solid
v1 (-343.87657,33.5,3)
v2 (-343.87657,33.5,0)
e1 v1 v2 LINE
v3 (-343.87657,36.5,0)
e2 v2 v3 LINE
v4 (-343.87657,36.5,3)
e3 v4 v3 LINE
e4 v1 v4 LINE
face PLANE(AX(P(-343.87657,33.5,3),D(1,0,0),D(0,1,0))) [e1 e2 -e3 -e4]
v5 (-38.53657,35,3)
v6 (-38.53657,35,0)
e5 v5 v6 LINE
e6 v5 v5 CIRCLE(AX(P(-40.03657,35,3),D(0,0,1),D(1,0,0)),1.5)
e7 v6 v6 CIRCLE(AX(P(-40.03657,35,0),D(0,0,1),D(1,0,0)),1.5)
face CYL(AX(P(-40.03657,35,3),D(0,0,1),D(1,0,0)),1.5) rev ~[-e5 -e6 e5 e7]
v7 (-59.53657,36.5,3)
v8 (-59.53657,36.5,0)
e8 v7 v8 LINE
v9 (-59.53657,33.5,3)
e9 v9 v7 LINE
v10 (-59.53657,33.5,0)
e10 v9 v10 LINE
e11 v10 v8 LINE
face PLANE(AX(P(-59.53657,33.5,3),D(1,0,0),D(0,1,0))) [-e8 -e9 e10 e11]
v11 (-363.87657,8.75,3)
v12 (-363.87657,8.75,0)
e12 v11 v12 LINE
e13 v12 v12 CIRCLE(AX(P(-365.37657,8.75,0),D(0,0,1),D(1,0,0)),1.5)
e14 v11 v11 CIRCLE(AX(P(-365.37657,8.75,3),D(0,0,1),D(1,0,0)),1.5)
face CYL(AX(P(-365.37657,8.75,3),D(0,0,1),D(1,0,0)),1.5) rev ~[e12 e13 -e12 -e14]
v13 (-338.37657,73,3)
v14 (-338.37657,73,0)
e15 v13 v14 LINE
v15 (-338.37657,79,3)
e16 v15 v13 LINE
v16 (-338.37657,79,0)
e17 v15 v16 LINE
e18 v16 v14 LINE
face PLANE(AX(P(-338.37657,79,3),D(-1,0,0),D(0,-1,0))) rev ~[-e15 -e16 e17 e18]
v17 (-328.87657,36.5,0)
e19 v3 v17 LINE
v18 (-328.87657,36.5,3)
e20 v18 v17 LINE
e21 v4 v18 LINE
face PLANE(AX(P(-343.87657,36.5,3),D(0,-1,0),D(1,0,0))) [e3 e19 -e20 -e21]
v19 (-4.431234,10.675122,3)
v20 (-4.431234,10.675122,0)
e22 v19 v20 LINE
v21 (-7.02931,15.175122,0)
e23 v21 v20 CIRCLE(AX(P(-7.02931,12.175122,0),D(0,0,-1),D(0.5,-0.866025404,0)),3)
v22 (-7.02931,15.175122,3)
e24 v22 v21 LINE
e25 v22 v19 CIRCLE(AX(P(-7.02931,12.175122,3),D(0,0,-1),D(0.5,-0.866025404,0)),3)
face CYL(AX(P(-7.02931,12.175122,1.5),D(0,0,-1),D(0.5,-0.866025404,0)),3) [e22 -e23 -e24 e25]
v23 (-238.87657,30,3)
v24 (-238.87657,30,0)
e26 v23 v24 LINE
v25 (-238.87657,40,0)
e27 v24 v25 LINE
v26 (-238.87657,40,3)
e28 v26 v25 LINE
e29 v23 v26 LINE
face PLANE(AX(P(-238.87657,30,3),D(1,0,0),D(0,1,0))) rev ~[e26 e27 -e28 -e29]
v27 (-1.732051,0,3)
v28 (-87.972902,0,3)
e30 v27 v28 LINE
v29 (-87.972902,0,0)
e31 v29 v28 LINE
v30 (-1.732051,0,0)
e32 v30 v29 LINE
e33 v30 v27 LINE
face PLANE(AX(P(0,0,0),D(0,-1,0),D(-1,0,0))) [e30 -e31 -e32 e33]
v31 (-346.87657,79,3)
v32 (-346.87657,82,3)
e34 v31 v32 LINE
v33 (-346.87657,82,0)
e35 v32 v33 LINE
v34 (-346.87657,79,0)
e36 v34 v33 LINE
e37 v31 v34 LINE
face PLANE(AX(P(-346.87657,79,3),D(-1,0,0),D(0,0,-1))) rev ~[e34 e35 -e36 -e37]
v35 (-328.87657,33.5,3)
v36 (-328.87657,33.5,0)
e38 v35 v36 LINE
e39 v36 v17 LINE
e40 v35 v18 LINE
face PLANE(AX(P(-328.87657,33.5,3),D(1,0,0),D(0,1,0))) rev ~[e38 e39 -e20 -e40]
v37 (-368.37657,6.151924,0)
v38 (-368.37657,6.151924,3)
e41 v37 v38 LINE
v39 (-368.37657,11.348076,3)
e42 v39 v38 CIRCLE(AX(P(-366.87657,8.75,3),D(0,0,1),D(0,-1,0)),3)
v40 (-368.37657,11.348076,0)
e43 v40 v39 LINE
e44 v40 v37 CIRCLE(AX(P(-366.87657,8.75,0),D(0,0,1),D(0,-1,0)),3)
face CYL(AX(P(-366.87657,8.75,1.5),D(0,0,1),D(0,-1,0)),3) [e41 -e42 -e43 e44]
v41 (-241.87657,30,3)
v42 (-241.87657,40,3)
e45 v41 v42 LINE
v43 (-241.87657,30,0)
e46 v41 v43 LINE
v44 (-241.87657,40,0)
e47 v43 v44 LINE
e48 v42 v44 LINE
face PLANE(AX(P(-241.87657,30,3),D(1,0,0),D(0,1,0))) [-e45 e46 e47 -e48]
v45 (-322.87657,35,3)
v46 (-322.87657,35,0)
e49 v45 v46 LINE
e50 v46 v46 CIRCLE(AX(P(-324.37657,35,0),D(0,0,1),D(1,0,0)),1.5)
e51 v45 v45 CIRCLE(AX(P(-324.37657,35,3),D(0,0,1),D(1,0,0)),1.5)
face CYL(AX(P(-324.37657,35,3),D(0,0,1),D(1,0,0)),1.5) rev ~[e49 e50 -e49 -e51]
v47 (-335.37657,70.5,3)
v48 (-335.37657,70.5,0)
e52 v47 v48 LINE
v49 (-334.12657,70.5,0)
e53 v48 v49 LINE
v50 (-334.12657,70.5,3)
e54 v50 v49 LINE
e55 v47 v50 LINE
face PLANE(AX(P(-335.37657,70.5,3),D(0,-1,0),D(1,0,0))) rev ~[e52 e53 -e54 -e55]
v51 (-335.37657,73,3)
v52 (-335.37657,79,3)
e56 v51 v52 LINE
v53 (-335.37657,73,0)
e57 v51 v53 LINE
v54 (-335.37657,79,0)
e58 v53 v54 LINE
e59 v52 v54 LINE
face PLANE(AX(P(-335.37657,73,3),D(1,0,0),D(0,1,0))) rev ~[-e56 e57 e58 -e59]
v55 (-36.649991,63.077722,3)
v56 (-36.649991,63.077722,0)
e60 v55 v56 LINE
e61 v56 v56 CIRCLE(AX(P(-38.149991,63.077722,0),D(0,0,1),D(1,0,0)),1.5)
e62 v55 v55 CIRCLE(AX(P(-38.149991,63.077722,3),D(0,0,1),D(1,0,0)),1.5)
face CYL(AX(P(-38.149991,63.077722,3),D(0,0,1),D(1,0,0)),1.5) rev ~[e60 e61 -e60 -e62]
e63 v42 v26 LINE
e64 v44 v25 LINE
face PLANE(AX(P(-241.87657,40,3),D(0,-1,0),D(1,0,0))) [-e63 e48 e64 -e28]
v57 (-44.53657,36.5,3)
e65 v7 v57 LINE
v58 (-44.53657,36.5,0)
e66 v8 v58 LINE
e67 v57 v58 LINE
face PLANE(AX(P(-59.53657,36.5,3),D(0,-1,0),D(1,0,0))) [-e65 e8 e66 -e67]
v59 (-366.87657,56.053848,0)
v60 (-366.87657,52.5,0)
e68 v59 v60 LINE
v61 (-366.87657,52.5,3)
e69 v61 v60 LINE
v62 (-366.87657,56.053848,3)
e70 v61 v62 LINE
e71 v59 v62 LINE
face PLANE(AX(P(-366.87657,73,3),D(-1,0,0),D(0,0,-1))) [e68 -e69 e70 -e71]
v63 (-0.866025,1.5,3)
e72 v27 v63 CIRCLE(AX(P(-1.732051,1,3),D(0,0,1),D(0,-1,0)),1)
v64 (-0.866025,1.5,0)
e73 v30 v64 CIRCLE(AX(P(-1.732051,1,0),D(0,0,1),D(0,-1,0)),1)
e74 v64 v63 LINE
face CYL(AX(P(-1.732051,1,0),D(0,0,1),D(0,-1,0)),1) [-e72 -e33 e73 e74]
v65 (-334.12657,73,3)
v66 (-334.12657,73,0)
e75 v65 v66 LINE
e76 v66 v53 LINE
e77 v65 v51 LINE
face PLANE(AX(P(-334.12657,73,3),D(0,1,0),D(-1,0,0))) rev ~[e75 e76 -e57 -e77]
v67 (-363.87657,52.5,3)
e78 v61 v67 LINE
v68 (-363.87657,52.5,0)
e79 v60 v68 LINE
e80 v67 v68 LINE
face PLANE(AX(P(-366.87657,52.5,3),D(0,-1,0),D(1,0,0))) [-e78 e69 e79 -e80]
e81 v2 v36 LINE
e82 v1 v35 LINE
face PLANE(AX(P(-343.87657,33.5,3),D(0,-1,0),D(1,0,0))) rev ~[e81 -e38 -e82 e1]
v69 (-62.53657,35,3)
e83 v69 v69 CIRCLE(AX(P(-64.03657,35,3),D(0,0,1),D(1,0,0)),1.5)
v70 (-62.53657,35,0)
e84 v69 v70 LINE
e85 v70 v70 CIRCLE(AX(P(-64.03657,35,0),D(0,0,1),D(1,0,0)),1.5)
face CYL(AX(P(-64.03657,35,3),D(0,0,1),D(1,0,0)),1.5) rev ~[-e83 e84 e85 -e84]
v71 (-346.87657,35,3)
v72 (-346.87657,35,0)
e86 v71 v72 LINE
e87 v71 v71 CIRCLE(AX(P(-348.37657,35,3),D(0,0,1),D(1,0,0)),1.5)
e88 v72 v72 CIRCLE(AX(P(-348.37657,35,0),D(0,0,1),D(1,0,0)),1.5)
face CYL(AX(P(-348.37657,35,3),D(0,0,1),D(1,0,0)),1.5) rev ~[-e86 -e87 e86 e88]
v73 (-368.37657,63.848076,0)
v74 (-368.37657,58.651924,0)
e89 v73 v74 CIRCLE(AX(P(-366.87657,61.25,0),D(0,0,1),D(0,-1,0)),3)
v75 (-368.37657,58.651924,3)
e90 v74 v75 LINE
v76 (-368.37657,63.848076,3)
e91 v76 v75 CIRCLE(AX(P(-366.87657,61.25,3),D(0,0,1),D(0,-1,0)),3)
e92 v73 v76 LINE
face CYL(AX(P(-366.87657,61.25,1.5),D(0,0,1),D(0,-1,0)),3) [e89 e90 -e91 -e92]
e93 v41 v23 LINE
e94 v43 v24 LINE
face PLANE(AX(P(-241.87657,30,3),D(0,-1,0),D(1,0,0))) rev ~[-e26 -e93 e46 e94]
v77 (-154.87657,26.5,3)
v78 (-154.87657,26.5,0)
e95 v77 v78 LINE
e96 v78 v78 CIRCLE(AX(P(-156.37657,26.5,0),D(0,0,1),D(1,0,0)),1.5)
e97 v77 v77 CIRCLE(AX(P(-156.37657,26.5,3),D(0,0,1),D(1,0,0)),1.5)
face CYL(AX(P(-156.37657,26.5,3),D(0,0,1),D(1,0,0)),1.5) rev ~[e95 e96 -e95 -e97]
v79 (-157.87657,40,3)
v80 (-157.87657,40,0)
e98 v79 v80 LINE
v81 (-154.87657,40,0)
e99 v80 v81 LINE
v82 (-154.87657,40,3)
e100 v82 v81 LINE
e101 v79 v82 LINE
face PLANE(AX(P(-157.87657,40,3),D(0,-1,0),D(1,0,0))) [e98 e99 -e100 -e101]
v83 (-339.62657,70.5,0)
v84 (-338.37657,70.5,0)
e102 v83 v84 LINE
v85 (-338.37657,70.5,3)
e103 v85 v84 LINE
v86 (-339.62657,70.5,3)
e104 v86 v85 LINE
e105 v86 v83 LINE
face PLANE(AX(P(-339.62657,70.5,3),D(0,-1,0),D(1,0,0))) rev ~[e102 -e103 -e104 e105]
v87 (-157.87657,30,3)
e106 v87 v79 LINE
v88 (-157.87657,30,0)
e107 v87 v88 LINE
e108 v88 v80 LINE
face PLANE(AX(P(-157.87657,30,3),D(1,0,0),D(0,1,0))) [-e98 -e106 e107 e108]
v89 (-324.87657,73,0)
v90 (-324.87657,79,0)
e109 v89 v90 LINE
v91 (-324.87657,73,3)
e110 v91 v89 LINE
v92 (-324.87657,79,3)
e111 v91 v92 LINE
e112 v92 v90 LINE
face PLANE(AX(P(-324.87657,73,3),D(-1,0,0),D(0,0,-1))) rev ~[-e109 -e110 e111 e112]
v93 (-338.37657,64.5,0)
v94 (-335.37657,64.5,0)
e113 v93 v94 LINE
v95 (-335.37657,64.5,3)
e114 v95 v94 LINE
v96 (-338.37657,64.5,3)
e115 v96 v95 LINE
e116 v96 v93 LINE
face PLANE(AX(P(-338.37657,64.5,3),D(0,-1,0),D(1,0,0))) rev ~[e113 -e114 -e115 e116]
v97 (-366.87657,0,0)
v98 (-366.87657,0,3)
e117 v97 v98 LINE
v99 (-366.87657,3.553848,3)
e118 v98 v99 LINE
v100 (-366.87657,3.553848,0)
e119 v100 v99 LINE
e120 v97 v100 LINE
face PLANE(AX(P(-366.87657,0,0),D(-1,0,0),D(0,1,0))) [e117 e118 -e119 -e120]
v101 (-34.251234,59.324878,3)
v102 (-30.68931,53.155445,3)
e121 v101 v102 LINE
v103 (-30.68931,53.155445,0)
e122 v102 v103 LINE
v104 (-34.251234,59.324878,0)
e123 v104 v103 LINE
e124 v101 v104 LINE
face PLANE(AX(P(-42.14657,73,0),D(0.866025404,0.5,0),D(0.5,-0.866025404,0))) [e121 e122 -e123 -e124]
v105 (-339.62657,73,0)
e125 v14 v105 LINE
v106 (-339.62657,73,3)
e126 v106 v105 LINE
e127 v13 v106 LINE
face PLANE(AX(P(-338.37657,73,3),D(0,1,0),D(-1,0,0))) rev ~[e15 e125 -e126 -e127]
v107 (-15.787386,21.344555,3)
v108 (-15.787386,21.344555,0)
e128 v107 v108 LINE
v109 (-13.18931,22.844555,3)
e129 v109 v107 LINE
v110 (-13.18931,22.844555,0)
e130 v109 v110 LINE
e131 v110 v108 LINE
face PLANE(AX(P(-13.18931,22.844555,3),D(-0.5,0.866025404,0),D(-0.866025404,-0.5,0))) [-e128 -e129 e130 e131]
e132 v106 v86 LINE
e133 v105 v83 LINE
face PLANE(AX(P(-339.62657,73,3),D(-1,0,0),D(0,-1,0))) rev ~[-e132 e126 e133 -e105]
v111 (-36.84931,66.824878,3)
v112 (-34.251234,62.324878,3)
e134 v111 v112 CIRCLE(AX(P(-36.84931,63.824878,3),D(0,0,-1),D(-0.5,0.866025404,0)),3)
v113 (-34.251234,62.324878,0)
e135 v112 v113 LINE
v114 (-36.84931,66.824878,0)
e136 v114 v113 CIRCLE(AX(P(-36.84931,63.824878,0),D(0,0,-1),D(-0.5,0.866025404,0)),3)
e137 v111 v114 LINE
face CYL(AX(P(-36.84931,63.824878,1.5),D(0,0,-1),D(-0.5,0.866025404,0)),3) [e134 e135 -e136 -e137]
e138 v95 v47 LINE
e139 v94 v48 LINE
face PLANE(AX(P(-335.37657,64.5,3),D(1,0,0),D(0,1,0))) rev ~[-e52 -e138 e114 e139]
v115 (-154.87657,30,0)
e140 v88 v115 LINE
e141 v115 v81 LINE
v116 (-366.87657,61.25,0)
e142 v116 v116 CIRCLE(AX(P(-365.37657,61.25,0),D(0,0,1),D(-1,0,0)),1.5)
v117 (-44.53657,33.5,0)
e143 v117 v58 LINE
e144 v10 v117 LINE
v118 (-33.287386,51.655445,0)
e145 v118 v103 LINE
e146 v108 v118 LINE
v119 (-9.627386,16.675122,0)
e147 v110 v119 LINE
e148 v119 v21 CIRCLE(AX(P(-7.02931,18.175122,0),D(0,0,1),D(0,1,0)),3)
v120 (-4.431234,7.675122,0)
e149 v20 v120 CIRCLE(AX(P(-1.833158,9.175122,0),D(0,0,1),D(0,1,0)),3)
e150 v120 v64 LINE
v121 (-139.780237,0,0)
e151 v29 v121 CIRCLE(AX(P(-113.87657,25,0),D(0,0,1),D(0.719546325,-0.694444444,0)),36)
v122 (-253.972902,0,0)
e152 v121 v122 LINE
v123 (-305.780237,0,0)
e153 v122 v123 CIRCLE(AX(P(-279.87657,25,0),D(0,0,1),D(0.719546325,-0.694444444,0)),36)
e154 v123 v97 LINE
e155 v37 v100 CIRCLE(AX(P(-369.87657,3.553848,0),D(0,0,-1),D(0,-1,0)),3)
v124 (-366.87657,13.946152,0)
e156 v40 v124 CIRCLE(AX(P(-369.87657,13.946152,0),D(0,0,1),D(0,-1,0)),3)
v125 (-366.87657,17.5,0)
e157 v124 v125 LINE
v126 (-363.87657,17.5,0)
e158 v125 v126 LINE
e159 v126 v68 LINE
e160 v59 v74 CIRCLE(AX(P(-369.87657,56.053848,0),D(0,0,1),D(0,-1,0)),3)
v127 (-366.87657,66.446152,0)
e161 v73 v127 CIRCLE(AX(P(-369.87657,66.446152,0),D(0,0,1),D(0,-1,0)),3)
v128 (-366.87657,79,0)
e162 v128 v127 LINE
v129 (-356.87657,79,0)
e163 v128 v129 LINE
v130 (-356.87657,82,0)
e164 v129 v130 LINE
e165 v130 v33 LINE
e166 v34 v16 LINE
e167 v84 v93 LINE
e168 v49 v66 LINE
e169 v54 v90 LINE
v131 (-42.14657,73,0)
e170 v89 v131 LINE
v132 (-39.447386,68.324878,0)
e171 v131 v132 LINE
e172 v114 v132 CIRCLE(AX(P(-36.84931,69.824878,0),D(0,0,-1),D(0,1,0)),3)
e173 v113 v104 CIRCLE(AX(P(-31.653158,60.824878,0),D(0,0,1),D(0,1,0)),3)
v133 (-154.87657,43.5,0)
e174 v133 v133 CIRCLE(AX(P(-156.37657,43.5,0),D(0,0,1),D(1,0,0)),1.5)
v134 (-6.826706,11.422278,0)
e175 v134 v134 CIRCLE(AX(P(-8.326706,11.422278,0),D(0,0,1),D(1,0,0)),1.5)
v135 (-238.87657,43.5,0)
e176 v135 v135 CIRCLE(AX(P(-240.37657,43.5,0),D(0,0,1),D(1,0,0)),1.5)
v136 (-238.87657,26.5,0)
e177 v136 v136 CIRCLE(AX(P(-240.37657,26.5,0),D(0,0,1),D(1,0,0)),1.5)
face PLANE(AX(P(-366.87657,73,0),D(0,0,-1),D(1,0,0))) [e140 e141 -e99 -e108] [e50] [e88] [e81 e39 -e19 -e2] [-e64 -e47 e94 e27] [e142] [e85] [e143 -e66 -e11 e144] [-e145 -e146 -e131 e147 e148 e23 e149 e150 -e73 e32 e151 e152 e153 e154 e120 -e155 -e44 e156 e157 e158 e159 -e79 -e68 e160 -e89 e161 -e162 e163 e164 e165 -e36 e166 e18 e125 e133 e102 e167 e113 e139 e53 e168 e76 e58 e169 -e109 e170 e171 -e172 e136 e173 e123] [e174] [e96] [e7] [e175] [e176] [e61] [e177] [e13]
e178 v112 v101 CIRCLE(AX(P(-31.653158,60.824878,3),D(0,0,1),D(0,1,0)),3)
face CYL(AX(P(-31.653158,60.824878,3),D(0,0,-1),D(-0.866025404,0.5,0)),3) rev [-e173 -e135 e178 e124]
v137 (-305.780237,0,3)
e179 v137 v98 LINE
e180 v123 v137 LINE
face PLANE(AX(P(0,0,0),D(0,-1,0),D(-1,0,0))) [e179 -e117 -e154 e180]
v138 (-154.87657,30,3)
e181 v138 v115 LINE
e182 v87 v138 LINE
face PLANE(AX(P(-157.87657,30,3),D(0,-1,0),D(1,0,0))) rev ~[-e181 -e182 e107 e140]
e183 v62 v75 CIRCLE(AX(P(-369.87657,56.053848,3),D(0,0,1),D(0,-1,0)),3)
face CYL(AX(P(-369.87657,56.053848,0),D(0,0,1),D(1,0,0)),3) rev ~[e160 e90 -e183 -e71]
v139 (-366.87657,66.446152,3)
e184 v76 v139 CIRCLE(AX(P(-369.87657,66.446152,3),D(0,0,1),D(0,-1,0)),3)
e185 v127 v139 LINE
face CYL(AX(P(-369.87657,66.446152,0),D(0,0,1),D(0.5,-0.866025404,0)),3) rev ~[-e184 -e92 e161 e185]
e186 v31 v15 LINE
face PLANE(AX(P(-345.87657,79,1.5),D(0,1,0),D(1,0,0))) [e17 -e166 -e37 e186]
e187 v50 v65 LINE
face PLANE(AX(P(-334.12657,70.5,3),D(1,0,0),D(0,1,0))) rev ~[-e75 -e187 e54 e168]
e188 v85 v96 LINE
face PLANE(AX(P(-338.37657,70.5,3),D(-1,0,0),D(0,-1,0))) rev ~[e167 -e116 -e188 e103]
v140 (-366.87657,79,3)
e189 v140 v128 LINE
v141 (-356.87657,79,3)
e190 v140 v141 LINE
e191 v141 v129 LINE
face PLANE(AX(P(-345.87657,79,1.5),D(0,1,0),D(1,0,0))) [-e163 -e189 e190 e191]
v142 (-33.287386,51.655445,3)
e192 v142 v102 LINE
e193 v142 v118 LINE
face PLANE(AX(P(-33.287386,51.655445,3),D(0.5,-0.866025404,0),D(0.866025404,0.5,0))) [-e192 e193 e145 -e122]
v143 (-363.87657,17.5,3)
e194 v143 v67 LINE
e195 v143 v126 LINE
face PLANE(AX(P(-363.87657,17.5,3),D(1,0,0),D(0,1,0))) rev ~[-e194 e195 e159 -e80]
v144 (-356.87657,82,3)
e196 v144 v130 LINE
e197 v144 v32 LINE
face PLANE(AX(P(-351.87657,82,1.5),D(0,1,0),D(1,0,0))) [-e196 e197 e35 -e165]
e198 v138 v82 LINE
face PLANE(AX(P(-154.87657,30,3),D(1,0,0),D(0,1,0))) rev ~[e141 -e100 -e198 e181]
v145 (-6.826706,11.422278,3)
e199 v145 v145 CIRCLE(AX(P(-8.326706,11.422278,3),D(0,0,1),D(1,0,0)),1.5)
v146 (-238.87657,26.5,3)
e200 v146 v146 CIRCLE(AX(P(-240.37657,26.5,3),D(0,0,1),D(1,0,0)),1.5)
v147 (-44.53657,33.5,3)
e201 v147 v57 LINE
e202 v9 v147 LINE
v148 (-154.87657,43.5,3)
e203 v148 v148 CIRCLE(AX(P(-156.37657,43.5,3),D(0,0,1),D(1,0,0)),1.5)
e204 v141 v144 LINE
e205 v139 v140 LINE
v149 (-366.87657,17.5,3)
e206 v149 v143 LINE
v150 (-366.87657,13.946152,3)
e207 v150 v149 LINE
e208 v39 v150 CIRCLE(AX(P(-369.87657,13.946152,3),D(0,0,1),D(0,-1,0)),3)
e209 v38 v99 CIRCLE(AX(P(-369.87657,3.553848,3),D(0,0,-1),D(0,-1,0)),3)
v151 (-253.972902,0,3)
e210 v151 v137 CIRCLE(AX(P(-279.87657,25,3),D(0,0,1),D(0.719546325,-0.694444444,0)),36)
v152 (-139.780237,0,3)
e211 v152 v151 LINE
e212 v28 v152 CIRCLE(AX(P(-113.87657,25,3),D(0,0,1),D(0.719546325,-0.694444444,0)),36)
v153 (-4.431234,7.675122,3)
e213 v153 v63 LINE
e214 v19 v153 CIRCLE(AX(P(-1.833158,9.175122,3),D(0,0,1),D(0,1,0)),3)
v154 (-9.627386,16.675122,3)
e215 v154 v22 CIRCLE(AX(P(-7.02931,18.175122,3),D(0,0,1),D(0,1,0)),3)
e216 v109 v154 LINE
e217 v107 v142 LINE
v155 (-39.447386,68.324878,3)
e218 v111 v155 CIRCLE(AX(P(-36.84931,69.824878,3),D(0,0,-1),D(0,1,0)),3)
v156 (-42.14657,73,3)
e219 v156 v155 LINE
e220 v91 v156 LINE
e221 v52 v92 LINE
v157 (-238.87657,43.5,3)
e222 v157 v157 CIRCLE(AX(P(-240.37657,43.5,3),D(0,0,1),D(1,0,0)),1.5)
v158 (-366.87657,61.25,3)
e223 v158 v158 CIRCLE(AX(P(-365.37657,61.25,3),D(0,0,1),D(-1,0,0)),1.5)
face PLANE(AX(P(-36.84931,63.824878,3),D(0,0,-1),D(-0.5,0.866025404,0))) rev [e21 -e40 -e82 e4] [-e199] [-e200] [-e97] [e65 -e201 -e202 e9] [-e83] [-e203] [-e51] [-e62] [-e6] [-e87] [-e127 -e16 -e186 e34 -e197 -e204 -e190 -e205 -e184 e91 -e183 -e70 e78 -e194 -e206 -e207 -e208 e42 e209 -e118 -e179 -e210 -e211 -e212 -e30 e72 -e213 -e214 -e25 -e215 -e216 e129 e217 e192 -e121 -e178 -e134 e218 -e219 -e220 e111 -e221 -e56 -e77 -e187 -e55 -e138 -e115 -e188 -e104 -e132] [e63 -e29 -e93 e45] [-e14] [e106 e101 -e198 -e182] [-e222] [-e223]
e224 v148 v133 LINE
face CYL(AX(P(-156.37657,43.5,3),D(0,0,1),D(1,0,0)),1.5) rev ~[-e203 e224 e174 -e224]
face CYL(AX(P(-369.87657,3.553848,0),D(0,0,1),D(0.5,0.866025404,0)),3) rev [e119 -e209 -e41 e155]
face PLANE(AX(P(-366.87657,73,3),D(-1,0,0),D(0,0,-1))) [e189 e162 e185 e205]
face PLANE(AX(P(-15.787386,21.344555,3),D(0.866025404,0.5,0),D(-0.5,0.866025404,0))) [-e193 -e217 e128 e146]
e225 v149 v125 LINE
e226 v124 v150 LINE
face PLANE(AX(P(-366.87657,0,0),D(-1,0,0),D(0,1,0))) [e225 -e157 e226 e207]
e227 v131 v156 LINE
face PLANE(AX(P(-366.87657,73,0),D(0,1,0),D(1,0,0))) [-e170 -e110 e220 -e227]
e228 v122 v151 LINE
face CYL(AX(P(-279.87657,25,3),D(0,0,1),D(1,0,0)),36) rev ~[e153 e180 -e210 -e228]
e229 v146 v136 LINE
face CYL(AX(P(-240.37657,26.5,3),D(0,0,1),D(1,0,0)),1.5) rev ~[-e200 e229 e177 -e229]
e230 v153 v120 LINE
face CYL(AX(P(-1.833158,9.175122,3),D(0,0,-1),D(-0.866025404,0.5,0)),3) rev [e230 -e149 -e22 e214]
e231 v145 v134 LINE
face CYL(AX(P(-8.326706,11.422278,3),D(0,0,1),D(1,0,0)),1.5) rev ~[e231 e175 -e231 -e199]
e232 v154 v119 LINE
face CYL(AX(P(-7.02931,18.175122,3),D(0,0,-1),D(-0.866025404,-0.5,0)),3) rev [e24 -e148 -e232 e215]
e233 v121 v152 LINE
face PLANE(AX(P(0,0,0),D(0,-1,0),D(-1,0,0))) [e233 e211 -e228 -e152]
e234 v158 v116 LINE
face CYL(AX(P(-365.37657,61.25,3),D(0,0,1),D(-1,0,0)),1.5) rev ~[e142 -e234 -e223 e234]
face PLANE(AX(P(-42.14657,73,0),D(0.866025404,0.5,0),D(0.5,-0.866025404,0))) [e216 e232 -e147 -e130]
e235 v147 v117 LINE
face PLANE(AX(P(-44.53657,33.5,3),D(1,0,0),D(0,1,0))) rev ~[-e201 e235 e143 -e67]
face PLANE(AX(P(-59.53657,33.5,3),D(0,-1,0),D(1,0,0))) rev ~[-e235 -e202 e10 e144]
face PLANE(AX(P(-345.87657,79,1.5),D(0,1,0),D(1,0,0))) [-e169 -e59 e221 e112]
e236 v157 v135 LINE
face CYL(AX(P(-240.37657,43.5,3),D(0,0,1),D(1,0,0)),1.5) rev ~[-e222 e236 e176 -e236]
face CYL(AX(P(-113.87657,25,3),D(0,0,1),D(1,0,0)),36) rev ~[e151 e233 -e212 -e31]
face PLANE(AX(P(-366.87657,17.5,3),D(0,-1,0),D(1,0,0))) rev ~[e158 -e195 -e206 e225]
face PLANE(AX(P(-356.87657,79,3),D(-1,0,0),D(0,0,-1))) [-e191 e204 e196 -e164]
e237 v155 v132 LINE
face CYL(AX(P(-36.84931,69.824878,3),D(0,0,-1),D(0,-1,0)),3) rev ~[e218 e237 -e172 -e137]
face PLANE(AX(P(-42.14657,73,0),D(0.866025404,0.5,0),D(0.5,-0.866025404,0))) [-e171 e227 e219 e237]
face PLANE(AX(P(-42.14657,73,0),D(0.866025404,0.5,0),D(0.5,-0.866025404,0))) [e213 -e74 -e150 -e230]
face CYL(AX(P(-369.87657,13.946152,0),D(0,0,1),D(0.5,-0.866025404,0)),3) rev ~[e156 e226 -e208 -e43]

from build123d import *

# Parameters (mm, degrees)
EXTRUDE_1_DEPTH      = 3
SKETCH_2_W           = 3
SKETCH_2_H           = 35
CUT_EXTRUDE_1_DEPTH  = 3
CUT_EXTRUDE_2_DEPTH  = 3
SKETCH_4_W           = 3
SKETCH_4_H           = 10
CUT_EXTRUDE_3_DEPTH  = 3
SKETCH_5_W           = 15
SKETCH_5_H           = 3
CUT_EXTRUDE_4_DEPTH  = 3
SKETCH_6_W           = 42
SKETCH_6_H           = 3
EXTRUDE_2_DEPTH      = 6
SKETCH_8_W           = 3
SKETCH_8_H           = 3
SKETCH_9_W           = 3
SKETCH_9_H           = 3
SKETCH_7_R           = 1.5
CUT_EXTRUDE_6_DEPTH  = 3
FILLET_1_R           = 3
SKETCH_14_R          = 1.5
CUT_EXTRUDE_9_DEPTH  = 3
SKETCH_15_R          = 1.5
CUT_EXTRUDE_10_DEPTH = 3
SKETCH_16_W          = 3
SKETCH_16_H          = 3
SKETCH_17_W          = 3
SKETCH_17_H          = 3
SKETCH_18_R          = 1.5
CUT_EXTRUDE_11_DEPTH = 3
FILLET_2_R           = 3
SKETCH_19_R          = 36
CUT_EXTRUDE_12_DEPTH = 3
CUT_EXTRUDE_13_DEPTH = 3
SKETCH_21_W          = 10
SKETCH_21_H          = 3
EXTRUDE_3_DEPTH      = 3
FILLET_3_R           = 1


with BuildPart() as part:
    # Эскиз1 → Бобышка-Вытянуть1 (new body)
    with BuildSketch(Plane.XY):
        Polygon((-42.146569651, 73), (0, 0), (-366.876569651, 0), (-366.876569651, 73), align=None)
    extrude(amount=EXTRUDE_1_DEPTH)

    # Эскиз2 → Вырез-Вытянуть1 (cut)
    with BuildSketch(Plane.XY.offset(3)):
        with Locations((-365.376569651, 35)):
            Rectangle(SKETCH_2_W, SKETCH_2_H)
    extrude(amount=-CUT_EXTRUDE_1_DEPTH, mode=Mode.SUBTRACT)

    # Эскиз3 → Вырез-Вытянуть2 (cut)
    with BuildSketch(Plane.XY.offset(3)):
        Polygon((-33.287386441, 51.655444566), (-30.689310229, 53.155444566), (-13.189310229, 22.844555434), (-15.787386441, 21.344555434), align=None)
    extrude(amount=-CUT_EXTRUDE_2_DEPTH, mode=Mode.SUBTRACT)

    # Эскиз4 → Вырез-Вытянуть3 (cut)
    with BuildSketch(Plane.XY.offset(3)):
        with Locations((-240.376569651, 35)):
            Rectangle(SKETCH_4_W, SKETCH_4_H)
        with Locations((-156.376569651, 35)):
            Rectangle(SKETCH_4_W, SKETCH_4_H)
    extrude(amount=-CUT_EXTRUDE_3_DEPTH, mode=Mode.SUBTRACT)

    # Эскиз5 → Вырез-Вытянуть4 (cut)
    with BuildSketch(Plane.XY.offset(3)):
        with Locations((-336.376569651, 35)):
            Rectangle(SKETCH_5_W, SKETCH_5_H)
        with Locations((-52.036569651, 35)):
            Rectangle(SKETCH_5_W, SKETCH_5_H)
    extrude(amount=-CUT_EXTRUDE_4_DEPTH, mode=Mode.SUBTRACT)

    # Эскиз6 → Бобышка-Вытянуть2 (add)
    with BuildSketch(Plane(origin=(0, 73, 0), x_dir=(1, 0, 0), z_dir=(0, 1, 0))):
        with Locations((-345.876569651, -1.5)):
            Rectangle(SKETCH_6_W, SKETCH_6_H)
    extrude(amount=EXTRUDE_2_DEPTH)

    # Эскиз8 → Повернуть1 (revolve)
    with BuildSketch(Plane.ZY.offset(366.876569651)):
        with Locations((1.5, 7.25)):
            Rectangle(SKETCH_8_W, SKETCH_8_H)
    revolve(axis=Axis((-366.876569651, 8.75, 0), (0, 0, 1)))

    # Эскиз9 → Повернуть2 (revolve)
    with BuildSketch(Plane.ZY.offset(366.876569651)):
        with Locations((1.5, 59.75)):
            Rectangle(SKETCH_9_W, SKETCH_9_H)
    revolve(axis=Axis((-366.876569651, 61.25, 0), (0, 0, 1)))

    # Эскиз7 → Вырез-Вытянуть6 (cut)
    with BuildSketch(Plane.XY.offset(3)):
        with Locations((-365.376569651, 8.75)):
            Circle(SKETCH_7_R)
        with Locations(Location((-365.376569651, 61.25, 0), (0, 0, 180))):
            Circle(SKETCH_7_R)
    extrude(amount=-CUT_EXTRUDE_6_DEPTH, mode=Mode.SUBTRACT)

    # Скругление1
    fillet_1_edges = [part.edges().sort_by_distance(p)[0] for p in [
        (-366.876569651, 5.75, 1.5),
        (-366.876569651, 11.75, 1.5),
        (-366.876569651, 58.25, 1.5),
        (-366.876569651, 64.25, 1.5),
    ]]
    fillet(fillet_1_edges, radius=FILLET_1_R)

    # Эскиз14 → Вырез-Вытянуть9 (cut)
    with BuildSketch(Plane.XY.offset(3)):
        with Locations((-156.376569651, 43.5)):
            Circle(SKETCH_14_R)
        with Locations((-156.376569651, 26.5)):
            Circle(SKETCH_14_R)
        with Locations((-240.376569651, 26.5)):
            Circle(SKETCH_14_R)
        with Locations((-240.376569651, 43.5)):
            Circle(SKETCH_14_R)
    extrude(amount=-CUT_EXTRUDE_9_DEPTH, mode=Mode.SUBTRACT)

    # Эскиз15 → Вырез-Вытянуть10 (cut)
    with BuildSketch(Plane.XY.offset(3)):
        with Locations((-324.376569651, 35)):
            Circle(SKETCH_15_R)
        with Locations((-348.376569651, 35)):
            Circle(SKETCH_15_R)
        with Locations((-64.036569651, 35)):
            Circle(SKETCH_15_R)
        with Locations((-40.036569651, 35)):
            Circle(SKETCH_15_R)
    extrude(amount=-CUT_EXTRUDE_10_DEPTH, mode=Mode.SUBTRACT)

    # Эскиз16 → Повернуть3 (revolve)
    with BuildSketch(Plane(origin=(0, 0, 0), x_dir=(0, 0, -1), z_dir=(0.8660254037844265, 0.5000000000000212, 0))):
        with Locations((-1.5, 12.558620458)):
            Rectangle(SKETCH_16_W, SKETCH_16_H)
    revolve(axis=Axis((-7.029310229, 12.175122459, 3), (0, 0, -1)))

    # Эскиз17 → Повернуть4 (revolve)
    with BuildSketch(Plane(origin=(0, 0, 0), x_dir=(0, 0, -1), z_dir=(0.8660254037844265, 0.5000000000000212, 0))):
        with Locations((-1.5, 75.198620458)):
            Rectangle(SKETCH_17_W, SKETCH_17_H)
    revolve(axis=Axis((-36.849310229, 63.824877541, 3), (0, 0, -1)))

    # Эскиз18 → Вырез-Вытянуть11 (cut)
    with BuildSketch(Plane.XY.offset(3)):
        with Locations((-38.149990748, 63.077722283)):
            Circle(SKETCH_18_R)
        with Locations((-8.326705922, 11.422277717)):
            Circle(SKETCH_18_R)
    extrude(amount=-CUT_EXTRUDE_11_DEPTH, mode=Mode.SUBTRACT)

    # Скругление2
    fillet_2_edges = [part.edges().sort_by_distance(p)[0] for p in [
        (-5.529310229, 9.577046248, 1.5),
        (-8.529310229, 14.773198671, 1.5),
        (-35.349310229, 61.226801329, 1.5),
        (-38.349310229, 66.422953752, 1.5),
    ]]
    fillet(fillet_2_edges, radius=FILLET_2_R)

    # Эскиз19 → Вырез-Вытянуть12 (cut)
    with BuildSketch(Plane.XY.offset(3)):
        with Locations((-279.876569651, 25)):
            Circle(SKETCH_19_R)
        with Locations((-113.876569651, 25)):
            Circle(SKETCH_19_R)
    extrude(amount=-CUT_EXTRUDE_12_DEPTH, mode=Mode.SUBTRACT)

    # Эскиз20 → Вырез-Вытянуть13 (cut)
    with BuildSketch(Plane.XY.offset(3)):
        Polygon((-338.376569651, 79), (-338.376569651, 73), (-339.626569651, 73), (-339.626569651, 70.5), (-338.376569651, 70.5), (-338.376569651, 64.5), (-335.376569651, 64.5), (-335.376569651, 70.5), (-334.126569651, 70.5), (-334.126569651, 73), (-335.376569651, 73), (-335.376569651, 79), align=None)
    extrude(amount=-CUT_EXTRUDE_13_DEPTH, mode=Mode.SUBTRACT)

    # Эскиз21 → Бобышка-Вытянуть3 (add)
    with BuildSketch(Plane(origin=(0, 79, 0), x_dir=(1, 0, 0), z_dir=(0, 1, 0))):
        with Locations((-351.876569651, -1.5)):
            Rectangle(SKETCH_21_W, SKETCH_21_H)
    extrude(amount=EXTRUDE_3_DEPTH)

    # Скругление3
    fillet_3_edges = [part.edges().sort_by_distance(p)[0] for p in [
        (0, 0, 1.5),
    ]]
    fillet(fillet_3_edges, radius=FILLET_3_R)


solid = part.part
